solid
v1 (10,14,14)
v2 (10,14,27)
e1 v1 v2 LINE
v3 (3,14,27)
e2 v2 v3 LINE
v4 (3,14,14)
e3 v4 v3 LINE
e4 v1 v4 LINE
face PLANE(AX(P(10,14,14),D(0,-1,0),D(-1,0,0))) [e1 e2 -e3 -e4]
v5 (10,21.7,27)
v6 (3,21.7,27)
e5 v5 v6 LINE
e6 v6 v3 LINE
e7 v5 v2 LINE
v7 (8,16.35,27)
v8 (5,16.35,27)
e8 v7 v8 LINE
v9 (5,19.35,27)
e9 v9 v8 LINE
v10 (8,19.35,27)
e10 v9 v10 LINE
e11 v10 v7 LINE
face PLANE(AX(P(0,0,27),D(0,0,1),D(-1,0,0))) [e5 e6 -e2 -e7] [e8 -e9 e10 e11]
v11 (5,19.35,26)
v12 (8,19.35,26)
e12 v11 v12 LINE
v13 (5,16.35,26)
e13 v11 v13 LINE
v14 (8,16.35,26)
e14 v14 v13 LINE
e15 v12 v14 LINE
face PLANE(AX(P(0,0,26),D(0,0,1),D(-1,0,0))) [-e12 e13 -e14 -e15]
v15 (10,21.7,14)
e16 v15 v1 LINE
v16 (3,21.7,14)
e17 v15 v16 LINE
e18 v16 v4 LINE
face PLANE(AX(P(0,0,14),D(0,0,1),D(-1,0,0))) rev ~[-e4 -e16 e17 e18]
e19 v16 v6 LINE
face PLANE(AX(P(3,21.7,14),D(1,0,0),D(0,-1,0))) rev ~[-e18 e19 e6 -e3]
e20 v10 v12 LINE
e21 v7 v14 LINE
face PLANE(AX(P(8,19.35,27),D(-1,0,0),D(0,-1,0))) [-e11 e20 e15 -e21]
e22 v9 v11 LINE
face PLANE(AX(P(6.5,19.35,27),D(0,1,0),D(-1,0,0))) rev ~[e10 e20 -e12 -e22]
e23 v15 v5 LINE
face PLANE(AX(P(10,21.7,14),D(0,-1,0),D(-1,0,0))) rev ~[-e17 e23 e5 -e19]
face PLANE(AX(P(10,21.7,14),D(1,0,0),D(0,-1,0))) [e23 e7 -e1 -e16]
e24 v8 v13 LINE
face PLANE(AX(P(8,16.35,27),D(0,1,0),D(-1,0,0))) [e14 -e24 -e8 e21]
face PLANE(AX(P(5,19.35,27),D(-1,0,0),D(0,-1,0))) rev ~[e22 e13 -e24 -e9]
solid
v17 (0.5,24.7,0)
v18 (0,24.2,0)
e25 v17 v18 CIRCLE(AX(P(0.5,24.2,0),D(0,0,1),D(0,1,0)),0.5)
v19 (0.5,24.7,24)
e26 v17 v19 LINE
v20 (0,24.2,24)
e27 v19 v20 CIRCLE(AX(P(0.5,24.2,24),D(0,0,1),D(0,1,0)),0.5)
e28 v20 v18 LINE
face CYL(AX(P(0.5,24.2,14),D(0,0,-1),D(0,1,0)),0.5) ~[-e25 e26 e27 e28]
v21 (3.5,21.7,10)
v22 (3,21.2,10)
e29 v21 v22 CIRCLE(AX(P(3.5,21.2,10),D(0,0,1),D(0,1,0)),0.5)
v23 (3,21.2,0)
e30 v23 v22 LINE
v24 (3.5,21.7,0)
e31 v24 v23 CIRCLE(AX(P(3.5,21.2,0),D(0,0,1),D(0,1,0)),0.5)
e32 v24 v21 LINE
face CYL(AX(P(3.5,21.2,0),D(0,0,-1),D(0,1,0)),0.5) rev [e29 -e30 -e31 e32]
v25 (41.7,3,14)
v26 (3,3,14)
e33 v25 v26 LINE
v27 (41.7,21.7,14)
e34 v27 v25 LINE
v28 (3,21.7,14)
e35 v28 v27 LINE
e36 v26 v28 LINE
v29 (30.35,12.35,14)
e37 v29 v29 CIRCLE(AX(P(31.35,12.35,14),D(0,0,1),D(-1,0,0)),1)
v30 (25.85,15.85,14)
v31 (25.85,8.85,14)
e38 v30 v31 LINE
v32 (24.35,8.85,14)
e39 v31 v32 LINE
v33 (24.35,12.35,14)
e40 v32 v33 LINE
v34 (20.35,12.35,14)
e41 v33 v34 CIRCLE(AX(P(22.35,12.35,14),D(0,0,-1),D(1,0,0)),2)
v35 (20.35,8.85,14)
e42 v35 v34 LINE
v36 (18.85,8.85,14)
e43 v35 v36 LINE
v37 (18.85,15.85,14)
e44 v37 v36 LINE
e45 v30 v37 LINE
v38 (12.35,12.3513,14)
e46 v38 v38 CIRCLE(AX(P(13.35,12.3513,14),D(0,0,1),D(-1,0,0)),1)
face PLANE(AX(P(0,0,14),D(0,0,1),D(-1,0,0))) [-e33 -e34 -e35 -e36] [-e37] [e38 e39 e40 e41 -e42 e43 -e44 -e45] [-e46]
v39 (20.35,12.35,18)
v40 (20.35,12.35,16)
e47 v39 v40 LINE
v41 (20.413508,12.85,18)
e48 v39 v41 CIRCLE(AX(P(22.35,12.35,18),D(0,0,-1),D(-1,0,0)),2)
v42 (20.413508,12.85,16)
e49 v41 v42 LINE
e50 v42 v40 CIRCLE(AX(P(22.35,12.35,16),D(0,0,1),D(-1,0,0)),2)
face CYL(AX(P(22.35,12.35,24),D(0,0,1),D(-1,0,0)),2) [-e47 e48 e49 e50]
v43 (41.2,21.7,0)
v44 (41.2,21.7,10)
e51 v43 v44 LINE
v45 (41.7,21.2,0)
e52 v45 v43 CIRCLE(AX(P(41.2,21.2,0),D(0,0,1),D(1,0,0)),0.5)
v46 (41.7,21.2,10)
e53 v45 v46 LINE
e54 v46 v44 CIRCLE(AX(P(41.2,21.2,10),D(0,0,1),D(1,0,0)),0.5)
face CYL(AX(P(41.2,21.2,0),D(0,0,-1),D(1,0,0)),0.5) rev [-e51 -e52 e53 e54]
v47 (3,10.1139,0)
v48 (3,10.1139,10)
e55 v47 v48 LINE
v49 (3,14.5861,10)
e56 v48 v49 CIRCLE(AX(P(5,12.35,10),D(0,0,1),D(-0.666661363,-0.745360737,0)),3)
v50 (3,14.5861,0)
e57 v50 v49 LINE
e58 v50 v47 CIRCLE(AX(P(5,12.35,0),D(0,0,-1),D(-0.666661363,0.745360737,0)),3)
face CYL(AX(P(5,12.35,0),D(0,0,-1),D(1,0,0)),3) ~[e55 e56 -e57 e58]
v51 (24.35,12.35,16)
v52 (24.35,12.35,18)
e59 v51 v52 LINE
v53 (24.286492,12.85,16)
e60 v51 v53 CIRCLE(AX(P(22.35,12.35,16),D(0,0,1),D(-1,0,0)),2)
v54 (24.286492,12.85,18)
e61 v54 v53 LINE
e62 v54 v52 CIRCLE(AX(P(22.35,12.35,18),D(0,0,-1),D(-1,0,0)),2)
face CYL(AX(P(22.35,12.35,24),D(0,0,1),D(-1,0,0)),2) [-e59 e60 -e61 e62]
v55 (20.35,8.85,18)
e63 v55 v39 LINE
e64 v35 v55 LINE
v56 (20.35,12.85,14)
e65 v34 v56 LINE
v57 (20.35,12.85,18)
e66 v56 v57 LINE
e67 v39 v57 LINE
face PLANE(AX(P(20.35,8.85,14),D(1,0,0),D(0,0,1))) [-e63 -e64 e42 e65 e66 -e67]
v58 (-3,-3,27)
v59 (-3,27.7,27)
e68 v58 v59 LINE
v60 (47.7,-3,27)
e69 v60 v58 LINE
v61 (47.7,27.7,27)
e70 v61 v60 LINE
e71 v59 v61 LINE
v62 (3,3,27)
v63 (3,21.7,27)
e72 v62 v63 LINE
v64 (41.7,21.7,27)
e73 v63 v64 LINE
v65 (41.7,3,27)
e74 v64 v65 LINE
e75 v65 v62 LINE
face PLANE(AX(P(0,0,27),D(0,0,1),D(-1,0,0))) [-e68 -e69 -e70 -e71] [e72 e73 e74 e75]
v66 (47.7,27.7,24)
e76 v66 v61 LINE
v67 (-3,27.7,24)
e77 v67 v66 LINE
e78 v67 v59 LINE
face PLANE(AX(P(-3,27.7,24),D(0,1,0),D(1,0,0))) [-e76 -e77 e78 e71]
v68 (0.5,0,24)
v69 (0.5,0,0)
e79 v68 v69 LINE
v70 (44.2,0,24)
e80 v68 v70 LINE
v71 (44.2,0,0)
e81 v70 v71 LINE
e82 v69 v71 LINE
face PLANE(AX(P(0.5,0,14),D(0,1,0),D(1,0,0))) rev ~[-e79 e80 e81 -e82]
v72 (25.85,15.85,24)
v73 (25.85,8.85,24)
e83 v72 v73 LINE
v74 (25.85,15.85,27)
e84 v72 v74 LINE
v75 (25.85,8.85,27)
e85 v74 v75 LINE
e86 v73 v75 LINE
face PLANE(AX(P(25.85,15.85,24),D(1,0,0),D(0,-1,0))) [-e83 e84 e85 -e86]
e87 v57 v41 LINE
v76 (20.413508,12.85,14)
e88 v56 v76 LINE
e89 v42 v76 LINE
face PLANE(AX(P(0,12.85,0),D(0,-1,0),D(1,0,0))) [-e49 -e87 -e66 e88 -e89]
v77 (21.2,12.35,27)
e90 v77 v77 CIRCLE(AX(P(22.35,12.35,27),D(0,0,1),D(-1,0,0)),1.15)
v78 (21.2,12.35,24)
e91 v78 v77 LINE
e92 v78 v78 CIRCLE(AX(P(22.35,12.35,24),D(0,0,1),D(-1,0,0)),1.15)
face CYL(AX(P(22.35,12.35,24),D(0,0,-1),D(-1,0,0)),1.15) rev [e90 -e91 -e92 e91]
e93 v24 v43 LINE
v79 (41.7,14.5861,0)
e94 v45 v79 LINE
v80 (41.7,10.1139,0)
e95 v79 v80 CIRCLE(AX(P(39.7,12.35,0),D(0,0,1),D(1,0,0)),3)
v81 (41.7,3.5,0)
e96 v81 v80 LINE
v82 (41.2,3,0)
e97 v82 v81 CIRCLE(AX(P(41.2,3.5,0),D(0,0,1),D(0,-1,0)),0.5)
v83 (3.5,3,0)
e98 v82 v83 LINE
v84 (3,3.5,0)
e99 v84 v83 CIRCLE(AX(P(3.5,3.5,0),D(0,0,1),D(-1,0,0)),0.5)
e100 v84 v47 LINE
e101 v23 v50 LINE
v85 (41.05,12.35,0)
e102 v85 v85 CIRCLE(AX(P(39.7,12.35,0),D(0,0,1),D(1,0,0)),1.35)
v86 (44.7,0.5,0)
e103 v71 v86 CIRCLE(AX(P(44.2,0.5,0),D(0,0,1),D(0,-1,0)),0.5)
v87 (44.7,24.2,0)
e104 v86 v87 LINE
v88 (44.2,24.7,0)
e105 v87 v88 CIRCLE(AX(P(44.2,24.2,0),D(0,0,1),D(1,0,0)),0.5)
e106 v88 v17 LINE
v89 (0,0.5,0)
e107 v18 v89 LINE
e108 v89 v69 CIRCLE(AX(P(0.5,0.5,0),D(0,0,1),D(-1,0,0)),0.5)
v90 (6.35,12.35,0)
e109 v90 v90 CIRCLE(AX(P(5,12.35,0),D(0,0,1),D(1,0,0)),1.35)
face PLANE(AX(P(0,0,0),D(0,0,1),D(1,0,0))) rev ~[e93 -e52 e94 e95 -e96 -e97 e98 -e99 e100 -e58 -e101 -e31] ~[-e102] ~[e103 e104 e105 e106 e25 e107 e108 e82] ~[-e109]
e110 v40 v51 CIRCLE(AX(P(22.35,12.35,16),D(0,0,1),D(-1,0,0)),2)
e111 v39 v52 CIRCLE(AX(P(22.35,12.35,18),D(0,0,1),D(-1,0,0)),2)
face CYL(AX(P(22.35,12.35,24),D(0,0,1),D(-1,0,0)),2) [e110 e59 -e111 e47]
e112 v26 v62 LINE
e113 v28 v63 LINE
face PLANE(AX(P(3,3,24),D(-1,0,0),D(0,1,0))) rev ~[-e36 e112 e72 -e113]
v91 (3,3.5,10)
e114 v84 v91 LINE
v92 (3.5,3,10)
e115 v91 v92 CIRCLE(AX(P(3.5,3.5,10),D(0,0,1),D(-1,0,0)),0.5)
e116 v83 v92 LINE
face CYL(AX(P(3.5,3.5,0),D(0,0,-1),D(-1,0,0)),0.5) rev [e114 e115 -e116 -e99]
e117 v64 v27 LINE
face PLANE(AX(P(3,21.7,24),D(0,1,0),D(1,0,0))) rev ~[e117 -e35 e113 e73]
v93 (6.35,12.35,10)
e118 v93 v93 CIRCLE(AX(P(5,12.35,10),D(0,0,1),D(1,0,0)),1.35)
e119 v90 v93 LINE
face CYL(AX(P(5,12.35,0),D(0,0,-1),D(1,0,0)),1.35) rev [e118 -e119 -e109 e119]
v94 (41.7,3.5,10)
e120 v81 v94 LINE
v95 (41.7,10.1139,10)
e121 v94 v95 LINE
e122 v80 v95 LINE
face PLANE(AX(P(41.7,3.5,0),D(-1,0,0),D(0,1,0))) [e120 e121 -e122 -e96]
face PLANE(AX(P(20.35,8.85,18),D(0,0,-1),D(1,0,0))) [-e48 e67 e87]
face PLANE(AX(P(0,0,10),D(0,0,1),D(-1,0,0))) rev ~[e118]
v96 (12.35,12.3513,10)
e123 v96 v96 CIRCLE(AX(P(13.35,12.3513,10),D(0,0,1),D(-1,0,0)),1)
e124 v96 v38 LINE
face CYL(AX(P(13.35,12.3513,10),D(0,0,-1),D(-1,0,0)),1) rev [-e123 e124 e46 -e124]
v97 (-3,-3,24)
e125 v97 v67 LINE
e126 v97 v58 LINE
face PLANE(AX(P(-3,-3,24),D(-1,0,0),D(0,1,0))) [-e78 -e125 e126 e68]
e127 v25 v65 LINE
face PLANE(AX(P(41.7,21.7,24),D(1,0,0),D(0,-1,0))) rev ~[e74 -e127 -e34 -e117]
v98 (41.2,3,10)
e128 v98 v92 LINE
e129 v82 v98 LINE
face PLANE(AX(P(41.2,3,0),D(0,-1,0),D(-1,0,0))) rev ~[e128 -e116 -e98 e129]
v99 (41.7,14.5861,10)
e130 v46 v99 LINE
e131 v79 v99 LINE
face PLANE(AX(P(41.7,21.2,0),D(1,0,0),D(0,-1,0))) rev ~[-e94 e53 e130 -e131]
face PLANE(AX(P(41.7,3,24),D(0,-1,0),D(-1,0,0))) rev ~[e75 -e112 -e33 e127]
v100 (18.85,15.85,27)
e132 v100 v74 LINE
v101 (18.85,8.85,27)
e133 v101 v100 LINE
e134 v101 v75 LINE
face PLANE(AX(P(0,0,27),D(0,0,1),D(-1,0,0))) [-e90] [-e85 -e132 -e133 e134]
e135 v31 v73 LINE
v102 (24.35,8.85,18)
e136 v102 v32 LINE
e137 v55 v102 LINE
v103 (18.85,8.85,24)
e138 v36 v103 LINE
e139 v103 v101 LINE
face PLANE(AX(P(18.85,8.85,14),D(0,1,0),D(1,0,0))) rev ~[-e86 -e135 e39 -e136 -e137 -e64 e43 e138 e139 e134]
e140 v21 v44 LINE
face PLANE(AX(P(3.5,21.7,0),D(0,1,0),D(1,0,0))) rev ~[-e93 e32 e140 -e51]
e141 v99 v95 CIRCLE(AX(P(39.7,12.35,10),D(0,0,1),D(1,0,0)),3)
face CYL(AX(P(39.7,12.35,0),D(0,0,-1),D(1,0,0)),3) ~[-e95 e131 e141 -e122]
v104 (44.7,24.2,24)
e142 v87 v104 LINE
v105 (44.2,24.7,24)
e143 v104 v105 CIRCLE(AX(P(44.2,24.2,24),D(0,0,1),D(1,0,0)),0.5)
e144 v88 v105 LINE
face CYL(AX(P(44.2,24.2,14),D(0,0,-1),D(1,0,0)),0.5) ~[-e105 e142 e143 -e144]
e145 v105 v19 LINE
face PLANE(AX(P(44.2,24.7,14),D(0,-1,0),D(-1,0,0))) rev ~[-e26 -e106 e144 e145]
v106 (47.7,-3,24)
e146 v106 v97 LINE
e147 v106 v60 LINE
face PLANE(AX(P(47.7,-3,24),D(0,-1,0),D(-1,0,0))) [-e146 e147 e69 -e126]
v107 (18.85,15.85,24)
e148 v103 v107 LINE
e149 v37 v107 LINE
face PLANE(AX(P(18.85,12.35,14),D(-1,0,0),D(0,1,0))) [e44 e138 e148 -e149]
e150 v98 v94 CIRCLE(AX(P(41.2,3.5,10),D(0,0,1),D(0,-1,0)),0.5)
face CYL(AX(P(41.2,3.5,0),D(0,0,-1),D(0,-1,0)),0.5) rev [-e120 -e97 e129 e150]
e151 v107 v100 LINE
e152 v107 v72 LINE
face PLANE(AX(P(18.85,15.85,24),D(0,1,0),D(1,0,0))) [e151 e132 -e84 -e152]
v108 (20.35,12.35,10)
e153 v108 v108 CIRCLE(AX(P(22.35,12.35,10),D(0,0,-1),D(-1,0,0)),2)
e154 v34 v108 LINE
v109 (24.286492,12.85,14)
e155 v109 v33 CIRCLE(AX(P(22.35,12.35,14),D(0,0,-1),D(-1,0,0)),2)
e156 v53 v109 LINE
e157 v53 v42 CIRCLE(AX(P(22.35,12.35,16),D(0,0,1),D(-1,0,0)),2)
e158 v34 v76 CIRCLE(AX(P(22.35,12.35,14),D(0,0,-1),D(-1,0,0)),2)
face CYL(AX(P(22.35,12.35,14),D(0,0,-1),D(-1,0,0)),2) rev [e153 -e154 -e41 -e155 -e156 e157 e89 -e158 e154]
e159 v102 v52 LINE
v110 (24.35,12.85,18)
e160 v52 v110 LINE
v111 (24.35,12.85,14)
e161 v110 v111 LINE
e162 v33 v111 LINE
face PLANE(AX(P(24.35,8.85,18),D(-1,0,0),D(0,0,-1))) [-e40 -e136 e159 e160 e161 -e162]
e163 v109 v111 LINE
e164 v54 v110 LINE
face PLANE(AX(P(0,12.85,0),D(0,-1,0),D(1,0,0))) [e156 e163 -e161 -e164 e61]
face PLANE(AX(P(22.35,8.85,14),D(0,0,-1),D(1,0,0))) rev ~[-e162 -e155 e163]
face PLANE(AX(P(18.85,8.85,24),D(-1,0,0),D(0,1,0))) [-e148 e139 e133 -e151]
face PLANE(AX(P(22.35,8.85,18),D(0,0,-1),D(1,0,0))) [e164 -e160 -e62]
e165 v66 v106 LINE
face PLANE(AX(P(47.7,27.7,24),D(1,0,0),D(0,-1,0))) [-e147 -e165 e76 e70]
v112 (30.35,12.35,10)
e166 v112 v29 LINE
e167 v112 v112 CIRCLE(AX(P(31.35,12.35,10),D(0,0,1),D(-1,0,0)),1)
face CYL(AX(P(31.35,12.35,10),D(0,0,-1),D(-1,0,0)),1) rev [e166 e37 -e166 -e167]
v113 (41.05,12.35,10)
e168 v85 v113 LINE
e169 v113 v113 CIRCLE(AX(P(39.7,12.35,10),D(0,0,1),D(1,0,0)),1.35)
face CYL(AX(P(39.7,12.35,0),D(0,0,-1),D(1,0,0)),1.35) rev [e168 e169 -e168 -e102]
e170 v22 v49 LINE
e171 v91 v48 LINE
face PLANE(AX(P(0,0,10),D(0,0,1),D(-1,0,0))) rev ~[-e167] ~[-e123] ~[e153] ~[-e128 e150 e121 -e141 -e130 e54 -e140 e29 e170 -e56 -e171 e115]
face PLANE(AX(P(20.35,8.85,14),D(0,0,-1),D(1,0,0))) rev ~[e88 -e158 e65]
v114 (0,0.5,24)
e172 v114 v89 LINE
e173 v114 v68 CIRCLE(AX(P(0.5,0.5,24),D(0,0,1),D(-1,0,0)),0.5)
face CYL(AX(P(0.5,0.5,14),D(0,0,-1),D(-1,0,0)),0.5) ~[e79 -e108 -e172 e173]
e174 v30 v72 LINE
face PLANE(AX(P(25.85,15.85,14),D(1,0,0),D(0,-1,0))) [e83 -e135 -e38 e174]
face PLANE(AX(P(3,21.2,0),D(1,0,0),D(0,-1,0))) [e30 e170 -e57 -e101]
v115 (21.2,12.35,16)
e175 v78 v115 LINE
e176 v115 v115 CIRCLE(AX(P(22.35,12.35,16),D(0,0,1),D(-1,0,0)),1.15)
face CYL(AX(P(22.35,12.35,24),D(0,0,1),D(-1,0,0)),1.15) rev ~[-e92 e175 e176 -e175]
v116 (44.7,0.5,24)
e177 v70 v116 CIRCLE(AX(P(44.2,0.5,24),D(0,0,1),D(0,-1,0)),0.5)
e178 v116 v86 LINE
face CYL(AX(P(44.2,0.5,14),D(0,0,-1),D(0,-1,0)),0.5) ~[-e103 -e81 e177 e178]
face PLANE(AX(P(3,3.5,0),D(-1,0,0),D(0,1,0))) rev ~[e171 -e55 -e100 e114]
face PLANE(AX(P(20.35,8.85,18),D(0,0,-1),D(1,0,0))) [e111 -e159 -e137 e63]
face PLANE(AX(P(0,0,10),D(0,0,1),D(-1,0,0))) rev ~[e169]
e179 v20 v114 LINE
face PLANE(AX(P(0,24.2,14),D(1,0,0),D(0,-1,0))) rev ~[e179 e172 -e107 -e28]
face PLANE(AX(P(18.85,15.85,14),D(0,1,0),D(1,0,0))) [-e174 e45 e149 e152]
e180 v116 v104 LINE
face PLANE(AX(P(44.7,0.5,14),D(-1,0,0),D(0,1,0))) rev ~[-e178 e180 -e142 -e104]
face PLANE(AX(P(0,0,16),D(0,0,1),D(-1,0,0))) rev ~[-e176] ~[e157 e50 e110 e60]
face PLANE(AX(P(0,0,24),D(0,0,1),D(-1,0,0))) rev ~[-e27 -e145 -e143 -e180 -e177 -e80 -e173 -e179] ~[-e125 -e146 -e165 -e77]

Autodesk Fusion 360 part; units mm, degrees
sketch "Sketch1" plane through (0, 0, 0) normal (0, 0, 1) x (1, 0, 0)
  line L0 (0.5, 0) -> (44.2, 0)
  line L1 (44.7, 0.5) -> (44.7, 24.2)
  line L2 (44.2, 24.7) -> (0.5, 24.7)
  line L3 (44.7, 24.7) -> (0, 0) construction
  line L4 (0, 24.7) -> (44.7, 0) construction
  arc A0 (0.5, 24.7) -> (0, 24.2) centre (0.5, 24.2) ccw
  arc A1 (0, 0.5) -> (0.5, 0) centre (0.5, 0.5) ccw
  arc A2 (44.2, 0) -> (44.7, 0.5) centre (44.2, 0.5) ccw
  arc A3 (44.7, 24.2) -> (44.2, 24.7) centre (44.2, 24.2) ccw
  line L5 (22.35, 12.35) -> (22.35, 24.7) construction
  line L6 (22.35, 12.35) -> (0, 12.35) construction
  line L7 (22.35, 12.35) -> (22.35, 0) construction
  circle A4 centre (39.7, 12.35) radius 1.35
  circle A5 centre (5, 12.35) radius 1.35
  line L8 (22.35, 24.7) -> (22.35, 21.7) construction
  line L9 (22.35, 0) -> (22.35, 3) construction
  line L10 (0, 12.35) -> (3, 12.35) construction
  line L11 (3.5, 21.7) -> (41.2, 21.7)
  line L12 (41.2, 3) -> (3.5, 3)
  arc A6 (3.5, 21.7) -> (3, 21.2) centre (3.5, 21.2) ccw
  arc A7 (3, 3.5) -> (3.5, 3) centre (3.5, 3.5) ccw
  arc A8 (41.2, 3) -> (41.7, 3.5) centre (41.2, 3.5) ccw
  arc A9 (41.7, 21.2) -> (41.2, 21.7) centre (41.2, 21.2) ccw
  line L13 (0, 24.2) -> (0, 0.5)
  circle A10 centre (5, 12.35) radius 3
  line L14 (3, 21.2) -> (3, 14.5861)
  line L15 (3, 3.5) -> (3, 10.1139)
  circle A11 centre (39.7, 12.35) radius 3
  line L16 (41.7, 3.5) -> (41.7, 10.1139)
  line L17 (41.7, 21.2) -> (41.7, 14.5861)
  point P0 (22.35, 12.35)
  dimension "d1" = 44.7
  dimension "d2" = 24.7
  dimension "d3" = 0.5
  dimension "d4" = 0.5
  dimension "d5" = 0.5
  dimension "d6" = 0.5
  dimension "d8" = 5
  dimension "d9" = 2.7
  dimension "d10" = 2.7
  dimension "d11" = 3
  dimension "d13" = 0.5
  dimension "d14" = 0.5
  dimension "d15" = 0.5
  dimension "d16" = 0.5
  dimension "d17" = 6
  dimension "d18" = 6
extrude "Extrude1" add sketch "Sketch1" along normal blind 10 contours L0 L1 L2 A0 A1 A2 A3 L13 | A10 | A11 makes body 1
sketch "Sketch3" plane through (0, 0, 10) normal (0, 0, 1) x (-1, 0, 0)
  line L0 (0, -24.2) -> (0, -0.5)
  arc A0 (0, -0.5) -> (-0.5, 0) centre (-0.5, -0.5) ccw
  line L1 (-0.5, 0) -> (-44.2, 0)
  arc A1 (-44.2, 0) -> (-44.7, -0.5) centre (-44.2, -0.5) ccw
  line L2 (-44.7, -0.5) -> (-44.7, -24.2)
  arc A2 (-44.7, -24.2) -> (-44.2, -24.7) centre (-44.2, -24.2) ccw
  line L3 (-44.2, -24.7) -> (-0.5, -24.7)
  arc A3 (-0.5, -24.7) -> (0, -24.2) centre (-0.5, -24.2) ccw
  line L4 (-0.5, 0) -> (-44.2, 0)
  line L5 (-44.7, -0.5) -> (-44.7, -24.2)
  line L6 (-44.2, -24.7) -> (-0.5, -24.7)
  line L7 (0, -24.2) -> (0, -0.5)
  arc A4 (-0.5, -24.7) -> (0, -24.2) centre (-0.5, -24.2) ccw
  arc A5 (0, -0.5) -> (-0.5, 0) centre (-0.5, -0.5) ccw
  arc A6 (-44.2, 0) -> (-44.7, -0.5) centre (-44.2, -0.5) ccw
  arc A7 (-44.7, -24.2) -> (-44.2, -24.7) centre (-44.2, -24.2) ccw
  line L8 (-22.35, -24.7) -> (-22.35, 0) construction
  line L9 (-44.7, -12.35) -> (0, -12.35) construction
  circle A8 centre (-22.35, -12.35) radius 2
  line L10 (-24.35, -12.35) -> (-24.35, 0) construction
  line L11 (-20.35, -12.35) -> (-20.35, -24.7) construction
  line L12 (-20.35, -12.35) -> (-20.35, 0) construction
  line L13 (-24.35, -12.35) -> (-36.35, -12.35) construction
  line L14 (-20.35, -12.35) -> (-8.35, -12.35) construction
  line L15 (-36.35, -12.35) -> (-36.35, -24.7) construction
  line L16 (-36.35, -12.35) -> (-36.35, 0) construction
  line L17 (-8.35, -12.35) -> (-8.35, -24.7) construction
  line L18 (-8.35, -12.35) -> (-8.35, 0) construction
  line L19 (-36.35, -12.35) -> (-36.35, -17.35) construction
  line L20 (-36.35, -12.35) -> (-36.35, -7.35) construction
  line L21 (-36.35, -7.35) -> (-26.35, -7.35) construction
  line L22 (-26.35, -17.35) -> (-36.35, -17.35) construction
  line L23 (-8.35, -7.35) -> (-8.35, -17.3527) construction
  line L24 (-24.35, -12.35) -> (-24.35, -24.7) construction
  line L25 (-24.35, -12.35) -> (-26.35, -12.35)
  line L26 (-26.35, -12.35) -> (-26.35, -17.35) construction
  line L27 (-26.35, -12.35) -> (-26.35, -7.35) construction
  line L28 (-20.35, -12.35) -> (-18.35, -12.35)
  line L29 (-18.35, -12.35) -> (-18.35, -17.3527) construction
  line L30 (-18.35, -17.3527) -> (-8.35, -17.3527) construction
  line L31 (-8.35, -7.35) -> (-18.35, -7.35) construction
  line L32 (-18.35, -7.35) -> (-18.35, -12.35) construction
  line L33 (-36.35, -17.35) -> (-26.35, -7.35) construction
  line L34 (-26.35, -17.35) -> (-36.35, -7.35) construction
  line L35 (-8.35, -17.3527) -> (-18.35, -7.35) construction
  line L36 (-18.35, -17.3527) -> (-8.35, -7.35) construction
  circle A9 centre (-13.35, -12.3513) radius 1
  circle A10 centre (-31.35, -12.35) radius 1
  point P0 (-44.7, 0)
  point P1 (-44.7, -24.7)
  dimension "d21" = 24.7
  dimension "d22" = 0.5
  dimension "d23" = 0.5
  dimension "d24" = 0.5
  dimension "d25" = 0.5
  dimension "d26" = 4
  dimension "d36" = 2
  dimension "d37" = 2
extrude "Extrude2" add sketch "Sketch3" along normal blind 4 bodies 1
sketch "Sketch5" plane through (0, 0, 14) normal (0, 0, 1) x (-1, 0, 0)
  circle A0 centre (-13.35, -12.3513) radius 1
  circle A1 centre (-31.35, -12.35) radius 1
  circle A2 centre (-22.35, -12.35) radius 2
  arc A3 (-44.7, -24.2) -> (-44.2, -24.7) centre (-44.2, -24.2) ccw
  line L0 (-44.2, -24.7) -> (-0.5, -24.7)
  arc A4 (-0.5, -24.7) -> (0, -24.2) centre (-0.5, -24.2) ccw
  line L1 (0, -24.2) -> (0, -0.5)
  arc A5 (0, -0.5) -> (-0.5, 0) centre (-0.5, -0.5) ccw
  line L2 (-0.5, 0) -> (-44.2, 0)
  arc A6 (-44.2, 0) -> (-44.7, -0.5) centre (-44.2, -0.5) ccw
  line L3 (-44.7, -0.5) -> (-44.7, -24.2)
  line L4 (0, 0) -> (0, -24.7)
  line L5 (0, -24.7) -> (-44.7, -24.7)
  line L6 (-44.7, -24.7) -> (-44.7, 0)
  line L7 (-44.7, 0) -> (0, 0)
  line L8 (-3, -21.7) -> (-41.7, -21.7)
  line L9 (-41.7, -21.7) -> (-41.7, -3)
  line L10 (-41.7, -3) -> (-3, -3)
  line L11 (-3, -3) -> (-3, -21.7)
  line L12 (-18.85, -12.35) -> (-18.85, -15.85)
  line L13 (-18.85, -15.85) -> (-22.35, -15.85)
  line L14 (-25.85, -15.85) -> (-22.35, -15.85)
  line L15 (-18.85, -12.35) -> (-18.85, -8.85)
  line L16 (-18.85, -8.85) -> (-22.35, -8.85)
  line L17 (-25.85, -8.85) -> (-22.35, -8.85)
  line L18 (-25.85, -15.85) -> (-25.85, -8.85)
  point P0 (-3, -21.7)
  point P1 (-3, -3)
  point P2 (-41.7, -21.7)
  point P3 (-41.7, -3)
  dimension "d40" = 44.7
extrude "Extrude3" add sketch "Sketch5" along normal blind 10 contours L12 L13 L14 L15 L16 L17 L18 bodies 1
sketch "Sketch10" plane through (0, 8.85, 0) normal (0, -1, 0) x (1, 0, 0)
  line L0 (18.85, 14) -> (25.85, 14)
  line L1 (25.85, 14) -> (25.85, 24)
  line L2 (25.85, 24) -> (18.85, 24)
  line L3 (18.85, 24) -> (18.85, 14)
  line L4 (22.35, 18) -> (24.35, 18)
  line L5 (24.35, 18) -> (24.35, 14)
  line L6 (22.35, 14) -> (24.35, 14)
  line L7 (22.35, 14) -> (20.35, 14)
  line L8 (20.35, 14) -> (20.35, 18)
  line L9 (20.35, 18) -> (22.35, 18)
extrude "Extrude4" cut sketch "Sketch10" against normal blind 4 contours L0 L4 L5 L6 L7 L8 L9 bodies 1
sketch "Sketch11" plane through (0, 0, 24) normal (0, 0, 1) x (-1, 0, 0)
  circle A0 centre (-22.35, -12.35) radius 2
  line L0 (-18.85, -15.85) -> (-18.85, -8.85)
  line L1 (-18.85, -8.85) -> (-25.85, -8.85)
  line L2 (-25.85, -8.85) -> (-25.85, -15.85)
  line L3 (-25.85, -15.85) -> (-18.85, -15.85)
  line L4 (-18.85, -15.85) -> (-25.85, -8.85) construction
  line L5 (-25.85, -15.85) -> (-18.85, -8.85) construction
  circle A1 centre (-22.35, -12.35) radius 1.15
  dimension "d58" = 2.3
extrude "Extrude5" add sketch "Sketch11" against normal blind 8 separate body contours A0 makes body 2
sketch "Sketch12" plane through (0, 0, 14) normal (0, 0, 1) x (-1, 0, 0)
  line L0 (-18.85, -15.85) -> (-25.85, -15.85)
  line L1 (-25.85, -15.85) -> (-25.85, -8.85)
  line L2 (-25.85, -8.85) -> (-24.35, -8.85)
  line L3 (-24.35, -8.85) -> (-24.35, -12.35)
  arc A0 (-20.35, -12.35) -> (-24.35, -12.35) centre (-22.35, -12.35) ccw
  line L4 (-20.35, -12.35) -> (-20.35, -8.85)
  line L5 (-20.35, -8.85) -> (-18.85, -8.85)
  line L6 (-18.85, -8.85) -> (-18.85, -15.85)
  circle A1 centre (-13.35, -12.3513) radius 1
  circle A2 centre (-31.35, -12.35) radius 1
  arc A3 (-44.7, -24.2) -> (-44.2, -24.7) centre (-44.2, -24.2) ccw
  line L7 (-44.2, -24.7) -> (-0.5, -24.7)
  arc A4 (-0.5, -24.7) -> (0, -24.2) centre (-0.5, -24.2) ccw
  line L8 (0, -24.2) -> (0, -0.5)
  arc A5 (0, -0.5) -> (-0.5, 0) centre (-0.5, -0.5) ccw
  line L9 (-0.5, 0) -> (-44.2, 0)
  arc A6 (-44.2, 0) -> (-44.7, -0.5) centre (-44.2, -0.5) ccw
  line L10 (-44.7, -0.5) -> (-44.7, -24.2)
  line L11 (-3, -21.7) -> (-41.7, -21.7)
  line L12 (-41.7, -21.7) -> (-41.7, -3)
  line L13 (-41.7, -3) -> (-3, -3)
  line L14 (-3, -3) -> (-3, -21.7)
  point P0 (-3, -21.7)
  point P1 (-41.7, -21.7)
  point P2 (-41.7, -3)
  point P3 (-3, -3)
extrude "Extrude6" add sketch "Sketch12" along normal blind 10 contours A3 L7 A4 L8 A5 L9 A6 L10 bodies 1
sketch "Sketch14" plane through (0, 0, 24) normal (0, 0, 1) x (-1, 0, 0)
  line L0 (-41.7, -3) -> (-3, -3)
  line L1 (-3, -3) -> (-3, -21.7)
  line L2 (-3, -21.7) -> (-41.7, -21.7)
  line L3 (-41.7, -21.7) -> (-41.7, -3)
  line L4 (-44.7, -0.5) -> (-44.7, -24.2)
  arc A0 (-44.7, -24.2) -> (-44.2, -24.7) centre (-44.2, -24.2) ccw
  line L5 (-44.2, -24.7) -> (-0.5, -24.7)
  arc A1 (-0.5, -24.7) -> (0, -24.2) centre (-0.5, -24.2) ccw
  line L6 (0, -24.2) -> (0, -0.5)
  arc A2 (0, -0.5) -> (-0.5, 0) centre (-0.5, -0.5) ccw
  line L7 (-0.5, 0) -> (-44.2, 0)
  arc A3 (-44.2, 0) -> (-44.7, -0.5) centre (-44.2, -0.5) ccw
  line L8 (3, -27.7) -> (-47.7, -27.7)
  line L9 (-47.7, -27.7) -> (-47.7, 3)
  line L10 (-47.7, 3) -> (3, 3)
  line L11 (3, 3) -> (3, -27.7)
  point P0 (3, -27.7)
  point P1 (3, 3)
  point P2 (-47.7, 3)
  point P3 (-47.7, -27.7)
extrude "Extrude7" add sketch "Sketch14" along normal blind 3 contours L4 A0 L5 A1 L6 A2 L7 A3 | L8 L9 L10 L11 bodies 1
extrude "Extrude8" add 2 faces at (20.6408, 12.4494, 24) (22.3998, 15.3481, 24) along direction (0, 0, 1) blind 3 on bodies 1 2 bodies 2 1
sketch "Sketch15" plane through (0, 0, 14) normal (0, 0, 1) x (-1, 0, 0)
  line L0 (-41.7, -3) -> (-41.7, -21.7)
  line L1 (-41.7, -21.7) -> (-3, -21.7)
  line L2 (-3, -21.7) -> (-3, -3)
  line L3 (-3, -3) -> (-41.7, -3)
  line L4 (-18.85, -15.85) -> (-25.85, -15.85)
  line L5 (-25.85, -15.85) -> (-25.85, -8.85)
  line L6 (-25.85, -8.85) -> (-24.35, -8.85)
  line L7 (-24.35, -8.85) -> (-24.35, -12.35)
  arc A0 (-20.35, -12.35) -> (-24.35, -12.35) centre (-22.35, -12.35) ccw
  line L8 (-20.35, -12.35) -> (-20.35, -8.85)
  line L9 (-20.35, -8.85) -> (-18.85, -8.85)
  line L10 (-18.85, -8.85) -> (-18.85, -15.85)
  circle A1 centre (-13.35, -12.3513) radius 1
  circle A2 centre (-31.35, -12.35) radius 1
  line L11 (-3, -21.7) -> (-10, -21.7)
  line L12 (-10, -21.7) -> (-10, -14)
  line L13 (-10, -14) -> (-3, -14)
extrude "Extrude9" add sketch "Sketch15" along normal blind 13 separate body contours L1 L2 L11 L12 L13 makes body 3
sketch "Sketch16" plane through (0, 0, 27) normal (0, 0, 1) x (-1, 0, 0)
  line L0 (-3, -21.7) -> (-3, -14)
  line L1 (-3, -14) -> (-10, -14)
  line L2 (-10, -14) -> (-10, -21.7)
  line L3 (-10, -21.7) -> (-3, -21.7)
  line L4 (-6.5, -19.35) -> (-8, -19.35)
  line L5 (-8, -19.35) -> (-8, -16.35)
  line L6 (-8, -16.35) -> (-5, -16.35)
  line L7 (-6.5, -19.35) -> (-5, -19.35)
  line L8 (-5, -19.35) -> (-5, -16.35)
extrude "Extrude10" cut sketch "Sketch16" against normal blind 1 contours L4 L5 L6 L7 L8 bodies 3
